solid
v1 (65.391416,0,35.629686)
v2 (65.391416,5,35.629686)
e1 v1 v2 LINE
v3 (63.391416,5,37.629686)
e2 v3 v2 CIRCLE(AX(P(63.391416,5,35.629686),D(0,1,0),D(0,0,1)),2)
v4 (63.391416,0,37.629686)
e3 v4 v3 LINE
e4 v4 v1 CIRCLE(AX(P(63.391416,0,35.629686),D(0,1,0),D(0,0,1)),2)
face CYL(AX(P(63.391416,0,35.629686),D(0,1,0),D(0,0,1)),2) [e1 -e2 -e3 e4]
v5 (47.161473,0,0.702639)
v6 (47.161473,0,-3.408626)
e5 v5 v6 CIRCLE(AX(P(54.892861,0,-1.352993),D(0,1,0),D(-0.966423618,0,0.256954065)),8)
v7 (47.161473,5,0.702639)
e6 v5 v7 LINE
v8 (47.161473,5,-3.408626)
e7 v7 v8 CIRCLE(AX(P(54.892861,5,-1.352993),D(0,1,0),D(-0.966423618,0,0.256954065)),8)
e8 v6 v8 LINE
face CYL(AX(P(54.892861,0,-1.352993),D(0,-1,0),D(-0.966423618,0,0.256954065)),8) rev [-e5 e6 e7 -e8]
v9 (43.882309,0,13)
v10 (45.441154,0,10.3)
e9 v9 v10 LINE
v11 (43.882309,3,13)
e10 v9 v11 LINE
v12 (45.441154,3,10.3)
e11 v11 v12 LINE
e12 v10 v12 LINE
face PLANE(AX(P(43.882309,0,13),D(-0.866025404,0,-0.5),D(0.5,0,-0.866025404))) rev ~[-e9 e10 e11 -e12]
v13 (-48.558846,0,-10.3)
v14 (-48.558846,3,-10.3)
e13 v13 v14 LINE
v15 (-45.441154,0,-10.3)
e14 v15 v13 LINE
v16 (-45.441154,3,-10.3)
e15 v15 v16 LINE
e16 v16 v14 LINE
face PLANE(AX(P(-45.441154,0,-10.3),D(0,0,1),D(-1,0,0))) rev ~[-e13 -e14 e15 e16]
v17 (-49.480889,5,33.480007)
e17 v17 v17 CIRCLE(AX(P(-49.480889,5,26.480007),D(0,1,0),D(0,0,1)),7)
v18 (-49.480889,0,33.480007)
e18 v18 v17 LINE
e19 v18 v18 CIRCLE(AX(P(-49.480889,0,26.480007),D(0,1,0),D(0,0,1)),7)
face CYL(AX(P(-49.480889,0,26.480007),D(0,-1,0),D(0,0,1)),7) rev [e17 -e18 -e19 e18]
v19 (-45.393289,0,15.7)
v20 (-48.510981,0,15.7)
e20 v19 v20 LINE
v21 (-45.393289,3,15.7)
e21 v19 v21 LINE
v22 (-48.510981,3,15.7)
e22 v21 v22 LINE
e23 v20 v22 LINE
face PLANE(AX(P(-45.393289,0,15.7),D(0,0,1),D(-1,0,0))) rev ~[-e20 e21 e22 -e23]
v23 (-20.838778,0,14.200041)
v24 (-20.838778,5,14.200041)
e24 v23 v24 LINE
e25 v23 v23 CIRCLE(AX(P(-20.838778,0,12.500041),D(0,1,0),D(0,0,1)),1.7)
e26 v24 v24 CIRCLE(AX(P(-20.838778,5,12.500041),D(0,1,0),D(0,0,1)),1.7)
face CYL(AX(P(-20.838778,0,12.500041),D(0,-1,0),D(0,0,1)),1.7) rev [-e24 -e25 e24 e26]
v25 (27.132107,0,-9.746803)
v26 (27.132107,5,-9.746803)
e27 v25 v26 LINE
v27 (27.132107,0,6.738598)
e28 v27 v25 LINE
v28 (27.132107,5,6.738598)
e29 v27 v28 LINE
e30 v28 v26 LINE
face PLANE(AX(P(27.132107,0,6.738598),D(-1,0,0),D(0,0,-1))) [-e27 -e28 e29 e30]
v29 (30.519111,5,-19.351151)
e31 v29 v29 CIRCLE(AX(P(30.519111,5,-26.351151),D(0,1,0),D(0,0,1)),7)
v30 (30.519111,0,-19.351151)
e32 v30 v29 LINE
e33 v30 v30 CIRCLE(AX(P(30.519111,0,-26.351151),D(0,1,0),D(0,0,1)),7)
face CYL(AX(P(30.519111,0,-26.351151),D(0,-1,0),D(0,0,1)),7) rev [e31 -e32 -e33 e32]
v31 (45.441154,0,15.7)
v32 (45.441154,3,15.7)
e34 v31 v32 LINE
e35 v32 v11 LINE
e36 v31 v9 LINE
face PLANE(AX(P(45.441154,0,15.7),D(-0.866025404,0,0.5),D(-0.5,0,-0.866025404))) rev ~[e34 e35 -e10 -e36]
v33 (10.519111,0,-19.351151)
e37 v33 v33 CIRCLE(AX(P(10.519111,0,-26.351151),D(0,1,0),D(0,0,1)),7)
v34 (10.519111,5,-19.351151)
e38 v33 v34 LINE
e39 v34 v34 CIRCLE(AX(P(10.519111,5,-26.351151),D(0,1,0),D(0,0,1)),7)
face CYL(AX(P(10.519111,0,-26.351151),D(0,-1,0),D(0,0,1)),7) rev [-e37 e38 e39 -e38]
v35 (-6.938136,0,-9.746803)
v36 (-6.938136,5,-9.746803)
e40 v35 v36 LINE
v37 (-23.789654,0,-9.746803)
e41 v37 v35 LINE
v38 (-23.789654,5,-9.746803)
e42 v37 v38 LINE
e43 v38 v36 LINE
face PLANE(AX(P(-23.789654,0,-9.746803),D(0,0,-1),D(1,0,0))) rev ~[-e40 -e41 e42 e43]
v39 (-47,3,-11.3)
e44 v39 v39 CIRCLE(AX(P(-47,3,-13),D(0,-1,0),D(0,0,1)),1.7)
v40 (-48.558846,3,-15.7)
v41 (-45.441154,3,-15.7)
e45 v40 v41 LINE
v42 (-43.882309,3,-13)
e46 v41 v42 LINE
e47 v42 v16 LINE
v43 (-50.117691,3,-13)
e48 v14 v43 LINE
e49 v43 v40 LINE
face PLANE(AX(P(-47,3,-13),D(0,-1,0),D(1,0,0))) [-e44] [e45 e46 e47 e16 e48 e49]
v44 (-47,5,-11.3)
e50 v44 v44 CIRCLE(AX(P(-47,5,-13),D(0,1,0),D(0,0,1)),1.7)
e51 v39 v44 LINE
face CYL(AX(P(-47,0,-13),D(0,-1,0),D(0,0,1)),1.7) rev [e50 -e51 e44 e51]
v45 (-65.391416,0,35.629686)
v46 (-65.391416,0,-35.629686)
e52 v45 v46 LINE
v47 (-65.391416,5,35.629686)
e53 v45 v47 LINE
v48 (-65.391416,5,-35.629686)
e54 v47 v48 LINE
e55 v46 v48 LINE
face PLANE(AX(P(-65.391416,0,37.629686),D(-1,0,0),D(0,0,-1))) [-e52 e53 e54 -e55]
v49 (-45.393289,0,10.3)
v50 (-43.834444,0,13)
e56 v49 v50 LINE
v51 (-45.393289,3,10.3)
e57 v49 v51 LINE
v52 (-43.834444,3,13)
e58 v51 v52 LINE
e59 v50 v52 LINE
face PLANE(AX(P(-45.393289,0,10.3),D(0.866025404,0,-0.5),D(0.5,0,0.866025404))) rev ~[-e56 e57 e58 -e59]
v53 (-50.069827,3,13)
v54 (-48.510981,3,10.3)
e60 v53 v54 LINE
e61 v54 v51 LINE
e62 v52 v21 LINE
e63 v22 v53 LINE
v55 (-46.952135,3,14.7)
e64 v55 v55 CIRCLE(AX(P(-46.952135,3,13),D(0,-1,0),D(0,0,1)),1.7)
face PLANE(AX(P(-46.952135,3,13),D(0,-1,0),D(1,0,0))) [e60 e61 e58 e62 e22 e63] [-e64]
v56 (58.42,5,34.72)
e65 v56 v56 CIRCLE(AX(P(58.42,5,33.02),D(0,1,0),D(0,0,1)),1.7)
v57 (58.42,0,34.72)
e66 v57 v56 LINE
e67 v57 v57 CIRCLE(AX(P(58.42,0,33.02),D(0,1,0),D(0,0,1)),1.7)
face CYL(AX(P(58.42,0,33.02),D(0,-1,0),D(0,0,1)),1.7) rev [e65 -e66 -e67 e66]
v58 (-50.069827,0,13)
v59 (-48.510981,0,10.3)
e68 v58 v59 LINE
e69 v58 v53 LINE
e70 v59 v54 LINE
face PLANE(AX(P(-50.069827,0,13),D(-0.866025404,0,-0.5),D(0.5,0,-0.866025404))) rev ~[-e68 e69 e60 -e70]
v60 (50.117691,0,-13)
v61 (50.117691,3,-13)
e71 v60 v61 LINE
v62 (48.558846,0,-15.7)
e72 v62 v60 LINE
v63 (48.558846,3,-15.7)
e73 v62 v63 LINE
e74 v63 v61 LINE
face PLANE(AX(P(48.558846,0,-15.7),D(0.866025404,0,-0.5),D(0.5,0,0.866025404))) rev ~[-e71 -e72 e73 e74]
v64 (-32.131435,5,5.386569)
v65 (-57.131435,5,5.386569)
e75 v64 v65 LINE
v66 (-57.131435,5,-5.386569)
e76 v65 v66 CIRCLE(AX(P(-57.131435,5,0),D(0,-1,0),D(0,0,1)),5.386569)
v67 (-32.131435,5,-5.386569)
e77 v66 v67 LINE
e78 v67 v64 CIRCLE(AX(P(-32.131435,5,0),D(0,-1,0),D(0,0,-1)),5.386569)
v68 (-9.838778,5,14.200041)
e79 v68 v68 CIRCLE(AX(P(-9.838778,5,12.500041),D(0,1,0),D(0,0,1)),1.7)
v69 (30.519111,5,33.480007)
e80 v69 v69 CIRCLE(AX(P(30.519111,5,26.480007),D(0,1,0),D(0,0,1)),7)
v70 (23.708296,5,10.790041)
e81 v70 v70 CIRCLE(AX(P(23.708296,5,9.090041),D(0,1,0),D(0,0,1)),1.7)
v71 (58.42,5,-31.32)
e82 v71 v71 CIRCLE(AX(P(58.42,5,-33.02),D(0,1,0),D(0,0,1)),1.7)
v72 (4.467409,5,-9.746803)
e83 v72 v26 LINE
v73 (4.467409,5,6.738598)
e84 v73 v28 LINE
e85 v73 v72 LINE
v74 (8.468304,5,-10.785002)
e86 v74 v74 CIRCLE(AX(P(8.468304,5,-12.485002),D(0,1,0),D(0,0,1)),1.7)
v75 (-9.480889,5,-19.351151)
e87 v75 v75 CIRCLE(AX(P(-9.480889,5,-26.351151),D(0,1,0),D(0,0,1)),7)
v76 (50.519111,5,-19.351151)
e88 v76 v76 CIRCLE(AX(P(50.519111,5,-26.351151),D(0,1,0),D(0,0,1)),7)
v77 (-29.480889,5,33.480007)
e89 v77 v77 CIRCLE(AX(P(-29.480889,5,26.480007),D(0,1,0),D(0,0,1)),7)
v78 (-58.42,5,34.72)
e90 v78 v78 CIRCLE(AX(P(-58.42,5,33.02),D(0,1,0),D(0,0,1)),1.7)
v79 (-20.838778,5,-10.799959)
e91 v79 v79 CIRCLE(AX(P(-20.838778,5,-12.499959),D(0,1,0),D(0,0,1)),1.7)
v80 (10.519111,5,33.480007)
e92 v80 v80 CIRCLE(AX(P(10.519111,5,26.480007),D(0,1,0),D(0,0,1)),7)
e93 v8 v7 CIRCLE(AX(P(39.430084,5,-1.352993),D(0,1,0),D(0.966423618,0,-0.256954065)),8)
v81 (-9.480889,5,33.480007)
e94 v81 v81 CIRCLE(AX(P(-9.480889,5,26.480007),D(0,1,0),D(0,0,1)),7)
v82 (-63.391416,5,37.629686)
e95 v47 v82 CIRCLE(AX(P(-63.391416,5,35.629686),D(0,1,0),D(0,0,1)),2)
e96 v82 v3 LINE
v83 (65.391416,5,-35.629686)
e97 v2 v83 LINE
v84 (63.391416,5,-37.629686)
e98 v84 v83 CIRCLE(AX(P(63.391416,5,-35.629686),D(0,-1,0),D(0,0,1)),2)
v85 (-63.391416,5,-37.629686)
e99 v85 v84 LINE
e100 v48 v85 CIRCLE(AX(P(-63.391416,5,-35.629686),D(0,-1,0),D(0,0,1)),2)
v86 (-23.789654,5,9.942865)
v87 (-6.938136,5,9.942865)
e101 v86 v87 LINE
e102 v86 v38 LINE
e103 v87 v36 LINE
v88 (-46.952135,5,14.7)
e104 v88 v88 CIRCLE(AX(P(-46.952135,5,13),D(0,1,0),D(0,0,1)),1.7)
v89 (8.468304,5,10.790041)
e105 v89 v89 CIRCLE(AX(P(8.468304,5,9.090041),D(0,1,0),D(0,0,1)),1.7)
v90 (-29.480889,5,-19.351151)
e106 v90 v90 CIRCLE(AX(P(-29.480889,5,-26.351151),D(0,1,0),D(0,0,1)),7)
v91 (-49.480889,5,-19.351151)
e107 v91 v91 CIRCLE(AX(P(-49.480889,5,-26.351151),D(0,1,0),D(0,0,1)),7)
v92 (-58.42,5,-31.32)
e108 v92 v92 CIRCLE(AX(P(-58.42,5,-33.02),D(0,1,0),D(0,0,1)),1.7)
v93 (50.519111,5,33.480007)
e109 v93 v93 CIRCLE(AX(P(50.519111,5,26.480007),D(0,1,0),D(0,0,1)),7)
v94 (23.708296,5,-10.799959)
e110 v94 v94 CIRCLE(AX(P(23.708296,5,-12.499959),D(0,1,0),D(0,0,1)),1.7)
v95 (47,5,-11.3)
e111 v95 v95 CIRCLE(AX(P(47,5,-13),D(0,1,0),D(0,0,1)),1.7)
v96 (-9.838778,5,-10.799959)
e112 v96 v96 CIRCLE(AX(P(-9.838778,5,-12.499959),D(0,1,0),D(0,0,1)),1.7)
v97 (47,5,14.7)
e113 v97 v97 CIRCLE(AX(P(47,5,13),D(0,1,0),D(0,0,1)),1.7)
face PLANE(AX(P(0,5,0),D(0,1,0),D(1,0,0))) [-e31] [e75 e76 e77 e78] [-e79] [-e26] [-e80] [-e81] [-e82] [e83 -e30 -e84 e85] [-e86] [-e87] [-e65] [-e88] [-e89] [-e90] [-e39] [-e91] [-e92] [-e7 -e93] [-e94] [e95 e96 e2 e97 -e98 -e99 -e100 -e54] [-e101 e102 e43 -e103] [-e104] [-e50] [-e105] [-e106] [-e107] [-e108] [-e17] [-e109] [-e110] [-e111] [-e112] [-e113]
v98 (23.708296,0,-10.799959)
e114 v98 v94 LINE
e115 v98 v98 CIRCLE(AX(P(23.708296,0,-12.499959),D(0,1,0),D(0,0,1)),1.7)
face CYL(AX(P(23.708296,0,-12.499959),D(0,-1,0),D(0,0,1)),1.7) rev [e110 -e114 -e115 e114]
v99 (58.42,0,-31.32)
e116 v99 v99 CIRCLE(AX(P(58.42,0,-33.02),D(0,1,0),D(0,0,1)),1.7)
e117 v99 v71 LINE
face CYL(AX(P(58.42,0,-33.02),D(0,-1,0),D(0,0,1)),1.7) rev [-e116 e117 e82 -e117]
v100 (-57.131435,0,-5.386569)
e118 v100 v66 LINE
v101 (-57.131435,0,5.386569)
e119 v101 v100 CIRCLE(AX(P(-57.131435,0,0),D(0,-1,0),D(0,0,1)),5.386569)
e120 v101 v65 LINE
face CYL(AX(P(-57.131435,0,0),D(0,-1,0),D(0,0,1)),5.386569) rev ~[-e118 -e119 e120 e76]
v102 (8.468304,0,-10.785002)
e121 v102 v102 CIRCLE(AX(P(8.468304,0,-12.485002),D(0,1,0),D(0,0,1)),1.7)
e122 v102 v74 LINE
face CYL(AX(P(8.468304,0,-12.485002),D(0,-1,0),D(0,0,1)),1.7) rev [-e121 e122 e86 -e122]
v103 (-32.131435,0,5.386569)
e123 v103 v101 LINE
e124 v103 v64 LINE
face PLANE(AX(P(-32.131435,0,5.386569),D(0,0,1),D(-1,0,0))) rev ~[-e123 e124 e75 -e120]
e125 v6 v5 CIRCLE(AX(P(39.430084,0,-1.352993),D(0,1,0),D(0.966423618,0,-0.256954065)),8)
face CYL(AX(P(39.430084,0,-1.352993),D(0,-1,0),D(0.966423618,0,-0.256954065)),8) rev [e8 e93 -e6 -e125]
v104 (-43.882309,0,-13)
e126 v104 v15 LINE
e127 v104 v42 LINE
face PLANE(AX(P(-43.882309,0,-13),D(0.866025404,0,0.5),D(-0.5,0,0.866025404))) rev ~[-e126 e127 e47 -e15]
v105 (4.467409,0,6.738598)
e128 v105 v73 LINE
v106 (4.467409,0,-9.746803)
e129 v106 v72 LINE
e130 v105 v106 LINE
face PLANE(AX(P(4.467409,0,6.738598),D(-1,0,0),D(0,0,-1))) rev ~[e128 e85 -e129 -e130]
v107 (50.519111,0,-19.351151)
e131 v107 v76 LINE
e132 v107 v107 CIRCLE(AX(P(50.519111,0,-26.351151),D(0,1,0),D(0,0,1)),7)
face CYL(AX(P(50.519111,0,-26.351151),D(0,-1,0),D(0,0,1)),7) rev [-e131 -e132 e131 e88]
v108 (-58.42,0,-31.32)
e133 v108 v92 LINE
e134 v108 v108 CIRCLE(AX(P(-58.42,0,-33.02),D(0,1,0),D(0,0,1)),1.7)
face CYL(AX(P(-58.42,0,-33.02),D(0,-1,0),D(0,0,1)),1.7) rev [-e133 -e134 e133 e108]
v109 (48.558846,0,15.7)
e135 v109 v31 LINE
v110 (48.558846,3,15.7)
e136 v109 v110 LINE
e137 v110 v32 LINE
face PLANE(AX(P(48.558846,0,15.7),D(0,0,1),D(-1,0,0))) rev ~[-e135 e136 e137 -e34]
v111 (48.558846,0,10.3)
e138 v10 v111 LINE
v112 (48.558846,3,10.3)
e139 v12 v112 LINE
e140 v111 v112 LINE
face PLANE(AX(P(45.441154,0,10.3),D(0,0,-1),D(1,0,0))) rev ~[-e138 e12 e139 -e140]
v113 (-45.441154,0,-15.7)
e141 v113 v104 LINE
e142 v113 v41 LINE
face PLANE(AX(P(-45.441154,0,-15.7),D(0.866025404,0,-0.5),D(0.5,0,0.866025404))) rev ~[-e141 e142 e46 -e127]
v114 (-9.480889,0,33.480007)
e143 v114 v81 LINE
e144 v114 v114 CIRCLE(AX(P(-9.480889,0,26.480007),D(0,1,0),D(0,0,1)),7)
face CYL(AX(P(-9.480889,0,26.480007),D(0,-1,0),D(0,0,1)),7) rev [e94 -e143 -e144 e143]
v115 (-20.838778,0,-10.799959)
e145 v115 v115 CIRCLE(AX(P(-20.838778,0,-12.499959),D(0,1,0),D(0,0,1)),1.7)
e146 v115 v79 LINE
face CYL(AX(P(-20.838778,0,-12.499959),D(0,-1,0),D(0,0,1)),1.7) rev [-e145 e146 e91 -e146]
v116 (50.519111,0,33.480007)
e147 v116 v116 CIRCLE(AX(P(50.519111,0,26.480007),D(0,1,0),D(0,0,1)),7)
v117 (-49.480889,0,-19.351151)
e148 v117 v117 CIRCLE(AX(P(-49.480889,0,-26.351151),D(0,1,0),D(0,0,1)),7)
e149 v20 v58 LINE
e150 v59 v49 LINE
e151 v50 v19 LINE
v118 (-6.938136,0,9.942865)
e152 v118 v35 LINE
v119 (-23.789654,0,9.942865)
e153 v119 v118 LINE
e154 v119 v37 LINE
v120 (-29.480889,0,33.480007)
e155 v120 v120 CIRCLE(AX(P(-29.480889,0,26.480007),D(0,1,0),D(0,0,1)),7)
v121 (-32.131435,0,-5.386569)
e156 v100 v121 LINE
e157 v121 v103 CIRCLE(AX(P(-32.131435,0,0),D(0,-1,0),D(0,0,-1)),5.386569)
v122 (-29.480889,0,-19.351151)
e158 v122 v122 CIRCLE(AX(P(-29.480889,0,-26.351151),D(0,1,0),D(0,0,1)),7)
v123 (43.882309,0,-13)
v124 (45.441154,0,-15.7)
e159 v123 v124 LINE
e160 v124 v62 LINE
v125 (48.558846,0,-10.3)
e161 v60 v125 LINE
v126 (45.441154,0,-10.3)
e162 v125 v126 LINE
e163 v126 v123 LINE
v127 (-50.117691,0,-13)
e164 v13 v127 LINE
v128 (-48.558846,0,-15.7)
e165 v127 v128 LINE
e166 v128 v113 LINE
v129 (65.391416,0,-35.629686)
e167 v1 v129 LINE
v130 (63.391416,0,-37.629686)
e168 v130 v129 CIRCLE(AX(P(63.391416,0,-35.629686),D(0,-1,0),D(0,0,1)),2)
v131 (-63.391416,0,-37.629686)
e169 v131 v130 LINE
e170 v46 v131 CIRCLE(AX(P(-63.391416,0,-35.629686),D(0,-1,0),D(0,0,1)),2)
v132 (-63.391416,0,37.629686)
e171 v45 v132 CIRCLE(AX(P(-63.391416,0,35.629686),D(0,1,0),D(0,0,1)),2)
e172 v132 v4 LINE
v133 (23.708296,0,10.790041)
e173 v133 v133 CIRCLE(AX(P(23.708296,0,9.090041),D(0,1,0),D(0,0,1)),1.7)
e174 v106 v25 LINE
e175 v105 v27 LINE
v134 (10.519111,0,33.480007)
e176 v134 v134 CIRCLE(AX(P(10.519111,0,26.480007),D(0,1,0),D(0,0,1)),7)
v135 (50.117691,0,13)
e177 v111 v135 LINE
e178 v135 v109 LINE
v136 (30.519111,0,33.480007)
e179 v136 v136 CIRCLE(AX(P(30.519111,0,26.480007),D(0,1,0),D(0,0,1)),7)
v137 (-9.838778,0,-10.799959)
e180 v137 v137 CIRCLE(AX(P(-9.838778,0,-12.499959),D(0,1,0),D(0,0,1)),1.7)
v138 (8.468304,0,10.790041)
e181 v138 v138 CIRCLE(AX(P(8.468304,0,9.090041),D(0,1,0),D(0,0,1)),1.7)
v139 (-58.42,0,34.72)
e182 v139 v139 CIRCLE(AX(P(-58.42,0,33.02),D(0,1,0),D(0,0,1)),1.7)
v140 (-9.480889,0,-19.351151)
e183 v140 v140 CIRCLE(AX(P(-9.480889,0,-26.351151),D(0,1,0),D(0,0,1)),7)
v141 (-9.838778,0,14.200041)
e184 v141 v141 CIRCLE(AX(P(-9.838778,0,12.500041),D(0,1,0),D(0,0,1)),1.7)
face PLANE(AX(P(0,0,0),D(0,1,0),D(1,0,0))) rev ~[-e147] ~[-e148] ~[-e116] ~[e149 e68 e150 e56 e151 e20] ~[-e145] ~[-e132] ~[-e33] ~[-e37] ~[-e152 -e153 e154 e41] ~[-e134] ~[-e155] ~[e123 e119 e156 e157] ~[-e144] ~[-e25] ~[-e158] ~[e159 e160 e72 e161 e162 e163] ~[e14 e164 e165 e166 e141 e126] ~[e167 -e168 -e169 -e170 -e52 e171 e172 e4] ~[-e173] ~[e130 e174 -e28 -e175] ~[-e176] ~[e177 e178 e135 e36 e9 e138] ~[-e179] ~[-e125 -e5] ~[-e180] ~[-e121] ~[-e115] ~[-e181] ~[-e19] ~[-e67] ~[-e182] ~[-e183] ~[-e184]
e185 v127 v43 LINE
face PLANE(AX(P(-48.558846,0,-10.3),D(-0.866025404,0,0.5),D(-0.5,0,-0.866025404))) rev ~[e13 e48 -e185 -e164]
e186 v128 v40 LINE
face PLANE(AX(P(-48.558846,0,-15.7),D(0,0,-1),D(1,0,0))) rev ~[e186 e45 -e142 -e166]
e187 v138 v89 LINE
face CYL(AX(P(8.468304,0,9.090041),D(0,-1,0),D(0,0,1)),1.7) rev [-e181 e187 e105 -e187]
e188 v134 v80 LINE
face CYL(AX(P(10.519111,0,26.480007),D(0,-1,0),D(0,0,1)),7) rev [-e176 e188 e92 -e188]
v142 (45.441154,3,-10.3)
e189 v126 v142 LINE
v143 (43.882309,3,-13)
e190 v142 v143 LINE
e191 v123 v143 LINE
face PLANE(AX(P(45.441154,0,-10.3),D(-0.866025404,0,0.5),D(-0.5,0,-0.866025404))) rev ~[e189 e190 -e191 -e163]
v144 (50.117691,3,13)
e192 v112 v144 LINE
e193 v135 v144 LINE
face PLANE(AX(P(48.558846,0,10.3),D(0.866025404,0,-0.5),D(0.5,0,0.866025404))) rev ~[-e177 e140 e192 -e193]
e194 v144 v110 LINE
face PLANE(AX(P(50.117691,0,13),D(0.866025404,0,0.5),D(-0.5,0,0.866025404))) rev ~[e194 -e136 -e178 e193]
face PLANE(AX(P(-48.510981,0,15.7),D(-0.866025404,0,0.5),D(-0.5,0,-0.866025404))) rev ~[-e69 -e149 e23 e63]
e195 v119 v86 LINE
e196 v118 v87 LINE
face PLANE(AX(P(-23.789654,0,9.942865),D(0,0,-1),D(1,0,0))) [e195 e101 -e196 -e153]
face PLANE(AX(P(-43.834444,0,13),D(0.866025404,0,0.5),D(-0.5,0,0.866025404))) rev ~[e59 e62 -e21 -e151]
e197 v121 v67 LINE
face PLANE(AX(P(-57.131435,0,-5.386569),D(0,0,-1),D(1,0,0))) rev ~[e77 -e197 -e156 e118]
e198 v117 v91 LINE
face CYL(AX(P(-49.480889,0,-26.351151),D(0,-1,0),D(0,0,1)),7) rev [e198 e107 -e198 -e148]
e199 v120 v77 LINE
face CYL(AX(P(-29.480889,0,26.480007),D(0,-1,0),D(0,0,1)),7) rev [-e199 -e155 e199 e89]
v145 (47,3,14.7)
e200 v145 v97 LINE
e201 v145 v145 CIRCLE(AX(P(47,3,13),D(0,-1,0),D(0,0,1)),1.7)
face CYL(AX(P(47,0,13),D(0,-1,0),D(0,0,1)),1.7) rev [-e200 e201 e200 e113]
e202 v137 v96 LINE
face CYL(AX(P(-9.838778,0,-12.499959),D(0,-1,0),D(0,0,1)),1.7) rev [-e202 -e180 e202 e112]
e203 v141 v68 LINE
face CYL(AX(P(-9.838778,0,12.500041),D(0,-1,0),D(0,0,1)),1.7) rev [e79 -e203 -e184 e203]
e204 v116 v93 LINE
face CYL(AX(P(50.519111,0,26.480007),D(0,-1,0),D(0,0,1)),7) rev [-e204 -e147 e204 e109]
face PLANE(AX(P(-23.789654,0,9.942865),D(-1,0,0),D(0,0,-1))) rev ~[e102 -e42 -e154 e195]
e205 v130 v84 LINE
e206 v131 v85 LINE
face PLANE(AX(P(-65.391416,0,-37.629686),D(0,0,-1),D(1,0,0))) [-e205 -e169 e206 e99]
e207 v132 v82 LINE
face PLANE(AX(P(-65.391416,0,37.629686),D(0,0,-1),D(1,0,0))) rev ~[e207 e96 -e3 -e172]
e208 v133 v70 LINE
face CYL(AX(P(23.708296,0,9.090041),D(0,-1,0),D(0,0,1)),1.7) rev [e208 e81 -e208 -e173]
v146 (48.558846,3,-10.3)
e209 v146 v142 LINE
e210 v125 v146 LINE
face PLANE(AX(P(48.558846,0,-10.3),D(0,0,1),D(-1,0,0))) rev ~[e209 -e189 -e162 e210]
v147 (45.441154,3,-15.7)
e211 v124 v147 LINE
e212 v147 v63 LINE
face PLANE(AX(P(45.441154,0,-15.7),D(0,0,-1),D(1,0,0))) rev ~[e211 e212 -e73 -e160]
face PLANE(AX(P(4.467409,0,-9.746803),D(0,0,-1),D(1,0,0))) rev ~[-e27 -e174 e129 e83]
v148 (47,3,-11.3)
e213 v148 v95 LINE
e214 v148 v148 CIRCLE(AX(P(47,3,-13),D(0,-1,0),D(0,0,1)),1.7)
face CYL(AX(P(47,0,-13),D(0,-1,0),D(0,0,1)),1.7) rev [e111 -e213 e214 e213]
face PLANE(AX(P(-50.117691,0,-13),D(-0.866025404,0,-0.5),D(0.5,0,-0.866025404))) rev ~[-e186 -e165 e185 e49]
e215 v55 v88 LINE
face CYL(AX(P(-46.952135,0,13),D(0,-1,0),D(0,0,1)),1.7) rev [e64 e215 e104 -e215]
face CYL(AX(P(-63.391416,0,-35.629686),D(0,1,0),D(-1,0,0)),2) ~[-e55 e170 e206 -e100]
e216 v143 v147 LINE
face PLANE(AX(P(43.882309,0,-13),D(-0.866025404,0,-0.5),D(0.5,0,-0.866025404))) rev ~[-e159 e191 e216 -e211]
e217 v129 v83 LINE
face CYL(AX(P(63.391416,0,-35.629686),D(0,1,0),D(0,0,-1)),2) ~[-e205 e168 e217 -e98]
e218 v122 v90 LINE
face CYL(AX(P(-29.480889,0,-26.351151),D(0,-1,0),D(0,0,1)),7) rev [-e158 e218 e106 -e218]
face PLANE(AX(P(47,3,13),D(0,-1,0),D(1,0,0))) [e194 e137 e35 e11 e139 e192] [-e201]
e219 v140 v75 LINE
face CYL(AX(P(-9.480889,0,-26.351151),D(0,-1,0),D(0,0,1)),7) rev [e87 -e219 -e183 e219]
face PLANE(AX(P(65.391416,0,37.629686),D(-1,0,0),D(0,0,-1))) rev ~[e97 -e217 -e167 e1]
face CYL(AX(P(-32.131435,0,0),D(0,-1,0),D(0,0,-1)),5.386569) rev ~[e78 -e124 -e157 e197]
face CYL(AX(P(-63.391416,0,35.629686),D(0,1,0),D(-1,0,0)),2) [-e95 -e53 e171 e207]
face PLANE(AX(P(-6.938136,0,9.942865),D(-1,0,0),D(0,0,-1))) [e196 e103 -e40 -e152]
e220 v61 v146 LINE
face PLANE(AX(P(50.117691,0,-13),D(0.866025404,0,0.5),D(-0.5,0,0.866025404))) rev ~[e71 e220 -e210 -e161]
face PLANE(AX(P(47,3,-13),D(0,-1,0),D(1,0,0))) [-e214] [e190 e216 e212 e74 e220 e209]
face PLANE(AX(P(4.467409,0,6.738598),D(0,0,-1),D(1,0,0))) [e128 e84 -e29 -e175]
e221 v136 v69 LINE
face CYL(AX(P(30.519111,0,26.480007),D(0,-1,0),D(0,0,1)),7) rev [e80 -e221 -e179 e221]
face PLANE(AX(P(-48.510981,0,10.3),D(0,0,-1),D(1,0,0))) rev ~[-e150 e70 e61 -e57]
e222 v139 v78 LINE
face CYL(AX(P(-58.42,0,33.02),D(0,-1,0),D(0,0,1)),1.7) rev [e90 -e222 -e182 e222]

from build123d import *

# Parameters (mm, degrees)
SKETCH1_W           = 130.782832276
SKETCH1_H           = 75.259371088
SKETCH1_R           = 1.7
SKETCH1_R_2         = 7
SKETCH1_W_2         = 16.85151746
SKETCH1_H_2         = 19.689667769
SKETCH1_W_3         = 22.664698662
SKETCH1_H_3         = 16.485400984
BOSS_EXTRUDE3_DEPTH = 5
CUT_EXTRUDE1_DEPTH  = 3
FILLET1_R           = 2


with BuildPart() as part:
    # Sketch1 → Boss-Extrude3 (new body)
    with BuildSketch(Plane(origin=(0, 0, 0), x_dir=(1, 0, 0), z_dir=(0, 1, 0))):
        Rectangle(SKETCH1_W, SKETCH1_H)
        with Locations(Location((-58.42, 33.02, 0), (0, 0, 270))):
            Circle(SKETCH1_R, mode=Mode.SUBTRACT)
        with Locations(Location((-58.42, -33.02, 0), (0, 0, 270))):
            Circle(SKETCH1_R, mode=Mode.SUBTRACT)
        with Locations(Location((58.42, 33.02, 0), (0, 0, 270))):
            Circle(SKETCH1_R, mode=Mode.SUBTRACT)
        with Locations(Location((58.42, -33.02, 0), (0, 0, 270))):
            Circle(SKETCH1_R, mode=Mode.SUBTRACT)
        with Locations(Location((-20.838777713, 12.499959088, 0), (0, 0, 270))):
            Circle(SKETCH1_R, mode=Mode.SUBTRACT)
        with Locations(Location((-20.838777713, -12.500040912, 0), (0, 0, 270))):
            Circle(SKETCH1_R, mode=Mode.SUBTRACT)
        with Locations(Location((-9.838777713, 12.499959088, 0), (0, 0, 270))):
            Circle(SKETCH1_R, mode=Mode.SUBTRACT)
        with Locations(Location((-9.838777713, -12.500040912, 0), (0, 0, 270))):
            Circle(SKETCH1_R, mode=Mode.SUBTRACT)
        with Locations(Location((8.468303583, 12.485001846, 0), (0, 0, 270))):
            Circle(SKETCH1_R, mode=Mode.SUBTRACT)
        with Locations(Location((8.468303583, -9.090040912, 0), (0, 0, 270))):
            Circle(SKETCH1_R, mode=Mode.SUBTRACT)
        with Locations(Location((23.708296244, 12.499959088, 0), (0, 0, 270))):
            Circle(SKETCH1_R, mode=Mode.SUBTRACT)
        with Locations(Location((23.708296244, -9.090040912, 0), (0, 0, 270))):
            Circle(SKETCH1_R, mode=Mode.SUBTRACT)
        with Locations(Location((-47, 13, 0), (0, 0, 270))):
            Circle(SKETCH1_R, mode=Mode.SUBTRACT)
        with Locations(Location((-46.95213511, -13, 0), (0, 0, 270))):
            Circle(SKETCH1_R, mode=Mode.SUBTRACT)
        with Locations(Location((47, 13, 0), (0, 0, 270))):
            Circle(SKETCH1_R, mode=Mode.SUBTRACT)
        with Locations(Location((47, -13, 0), (0, 0, 270))):
            Circle(SKETCH1_R, mode=Mode.SUBTRACT)
        with Locations(Location((-49.48088922, 26.351150639, 0), (0, 0, 270))):
            Circle(SKETCH1_R_2, mode=Mode.SUBTRACT)
        with Locations(Location((-29.48088922, 26.351150639, 0), (0, 0, 270))):
            Circle(SKETCH1_R_2, mode=Mode.SUBTRACT)
        with Locations(Location((-9.48088922, 26.351150639, 0), (0, 0, 270))):
            Circle(SKETCH1_R_2, mode=Mode.SUBTRACT)
        with Locations(Location((10.51911078, 26.351150639, 0), (0, 0, 270))):
            Circle(SKETCH1_R_2, mode=Mode.SUBTRACT)
        with Locations(Location((30.51911078, 26.351150639, 0), (0, 0, 270))):
            Circle(SKETCH1_R_2, mode=Mode.SUBTRACT)
        with Locations(Location((50.51911078, 26.351150639, 0), (0, 0, 270))):
            Circle(SKETCH1_R_2, mode=Mode.SUBTRACT)
        with Locations(Location((-49.48088922, -26.480007122, 0), (0, 0, 270))):
            Circle(SKETCH1_R_2, mode=Mode.SUBTRACT)
        with Locations(Location((-29.48088922, -26.480007122, 0), (0, 0, 270))):
            Circle(SKETCH1_R_2, mode=Mode.SUBTRACT)
        with Locations(Location((-9.48088922, -26.480007122, 0), (0, 0, 270))):
            Circle(SKETCH1_R_2, mode=Mode.SUBTRACT)
        with Locations(Location((10.51911078, -26.480007122, 0), (0, 0, 270))):
            Circle(SKETCH1_R_2, mode=Mode.SUBTRACT)
        with Locations(Location((30.51911078, -26.480007122, 0), (0, 0, 270))):
            Circle(SKETCH1_R_2, mode=Mode.SUBTRACT)
        with Locations(Location((50.51911078, -26.480007122, 0), (0, 0, 270))):
            Circle(SKETCH1_R_2, mode=Mode.SUBTRACT)
        with Locations((-15.363894899, -0.098030908)):
            Rectangle(SKETCH1_W_2, SKETCH1_H_2, mode=Mode.SUBTRACT)
        with Locations((15.799758129, 1.504102484)):
            Rectangle(SKETCH1_W_3, SKETCH1_H_3, mode=Mode.SUBTRACT)
        with BuildLine():
            Line((-57.131435177, 5.386569447), (-32.131435177, 5.386569447))
            ThreePointArc((-32.131435177, 5.386569447), (-26.74486573, 0), (-32.131435177, -5.386569447))
            Line((-32.131435177, -5.386569447), (-57.131435177, -5.386569447))
            ThreePointArc((-57.131435177, -5.386569447), (-62.518004624, 0), (-57.131435177, 5.386569447))
        make_face(mode=Mode.SUBTRACT)
        with BuildLine():
            ThreePointArc((47.161472538, 3.408625582), (31.430083597, 1.352993065), (47.161472538, -0.702639453))
            ThreePointArc((47.161472538, -0.702639453), (62.892861479, 1.352993065), (47.161472538, 3.408625582))
        make_face(mode=Mode.SUBTRACT)
    extrude(amount=BOSS_EXTRUDE3_DEPTH)

    # Sketch2 → Cut-Extrude1 (cut)
    with BuildSketch(Plane.XZ):
        Polygon((-50.117691454, -13), (-48.558845727, -15.7), (-45.441154273, -15.7), (-43.882308546, -13), (-45.441154273, -10.3), (-48.558845727, -10.3), align=None)
        Polygon((-50.069826564, 13), (-48.510980837, 10.3), (-45.393289384, 10.3), (-43.834443657, 13), (-45.393289384, 15.7), (-48.510980837, 15.7), align=None)
        Polygon((43.882308546, -13), (45.441154273, -15.7), (48.558845727, -15.7), (50.117691454, -13), (48.558845727, -10.3), (45.441154273, -10.3), align=None)
        Polygon((43.882308546, 13), (45.441154273, 10.3), (48.558845727, 10.3), (50.117691454, 13), (48.558845727, 15.7), (45.441154273, 15.7), align=None)
    extrude(amount=-CUT_EXTRUDE1_DEPTH, mode=Mode.SUBTRACT)

    # Fillet1
    fillet1_edges = [part.edges().sort_by_distance(p)[0] for p in [
        (65.391416138, 2.5, 37.629685544),
        (-65.391416138, 2.5, 37.629685544),
        (-65.391416138, 2.5, -37.629685544),
        (65.391416138, 2.5, -37.629685544),
    ]]
    fillet(fillet1_edges, radius=FILLET1_R)


solid = part.part
